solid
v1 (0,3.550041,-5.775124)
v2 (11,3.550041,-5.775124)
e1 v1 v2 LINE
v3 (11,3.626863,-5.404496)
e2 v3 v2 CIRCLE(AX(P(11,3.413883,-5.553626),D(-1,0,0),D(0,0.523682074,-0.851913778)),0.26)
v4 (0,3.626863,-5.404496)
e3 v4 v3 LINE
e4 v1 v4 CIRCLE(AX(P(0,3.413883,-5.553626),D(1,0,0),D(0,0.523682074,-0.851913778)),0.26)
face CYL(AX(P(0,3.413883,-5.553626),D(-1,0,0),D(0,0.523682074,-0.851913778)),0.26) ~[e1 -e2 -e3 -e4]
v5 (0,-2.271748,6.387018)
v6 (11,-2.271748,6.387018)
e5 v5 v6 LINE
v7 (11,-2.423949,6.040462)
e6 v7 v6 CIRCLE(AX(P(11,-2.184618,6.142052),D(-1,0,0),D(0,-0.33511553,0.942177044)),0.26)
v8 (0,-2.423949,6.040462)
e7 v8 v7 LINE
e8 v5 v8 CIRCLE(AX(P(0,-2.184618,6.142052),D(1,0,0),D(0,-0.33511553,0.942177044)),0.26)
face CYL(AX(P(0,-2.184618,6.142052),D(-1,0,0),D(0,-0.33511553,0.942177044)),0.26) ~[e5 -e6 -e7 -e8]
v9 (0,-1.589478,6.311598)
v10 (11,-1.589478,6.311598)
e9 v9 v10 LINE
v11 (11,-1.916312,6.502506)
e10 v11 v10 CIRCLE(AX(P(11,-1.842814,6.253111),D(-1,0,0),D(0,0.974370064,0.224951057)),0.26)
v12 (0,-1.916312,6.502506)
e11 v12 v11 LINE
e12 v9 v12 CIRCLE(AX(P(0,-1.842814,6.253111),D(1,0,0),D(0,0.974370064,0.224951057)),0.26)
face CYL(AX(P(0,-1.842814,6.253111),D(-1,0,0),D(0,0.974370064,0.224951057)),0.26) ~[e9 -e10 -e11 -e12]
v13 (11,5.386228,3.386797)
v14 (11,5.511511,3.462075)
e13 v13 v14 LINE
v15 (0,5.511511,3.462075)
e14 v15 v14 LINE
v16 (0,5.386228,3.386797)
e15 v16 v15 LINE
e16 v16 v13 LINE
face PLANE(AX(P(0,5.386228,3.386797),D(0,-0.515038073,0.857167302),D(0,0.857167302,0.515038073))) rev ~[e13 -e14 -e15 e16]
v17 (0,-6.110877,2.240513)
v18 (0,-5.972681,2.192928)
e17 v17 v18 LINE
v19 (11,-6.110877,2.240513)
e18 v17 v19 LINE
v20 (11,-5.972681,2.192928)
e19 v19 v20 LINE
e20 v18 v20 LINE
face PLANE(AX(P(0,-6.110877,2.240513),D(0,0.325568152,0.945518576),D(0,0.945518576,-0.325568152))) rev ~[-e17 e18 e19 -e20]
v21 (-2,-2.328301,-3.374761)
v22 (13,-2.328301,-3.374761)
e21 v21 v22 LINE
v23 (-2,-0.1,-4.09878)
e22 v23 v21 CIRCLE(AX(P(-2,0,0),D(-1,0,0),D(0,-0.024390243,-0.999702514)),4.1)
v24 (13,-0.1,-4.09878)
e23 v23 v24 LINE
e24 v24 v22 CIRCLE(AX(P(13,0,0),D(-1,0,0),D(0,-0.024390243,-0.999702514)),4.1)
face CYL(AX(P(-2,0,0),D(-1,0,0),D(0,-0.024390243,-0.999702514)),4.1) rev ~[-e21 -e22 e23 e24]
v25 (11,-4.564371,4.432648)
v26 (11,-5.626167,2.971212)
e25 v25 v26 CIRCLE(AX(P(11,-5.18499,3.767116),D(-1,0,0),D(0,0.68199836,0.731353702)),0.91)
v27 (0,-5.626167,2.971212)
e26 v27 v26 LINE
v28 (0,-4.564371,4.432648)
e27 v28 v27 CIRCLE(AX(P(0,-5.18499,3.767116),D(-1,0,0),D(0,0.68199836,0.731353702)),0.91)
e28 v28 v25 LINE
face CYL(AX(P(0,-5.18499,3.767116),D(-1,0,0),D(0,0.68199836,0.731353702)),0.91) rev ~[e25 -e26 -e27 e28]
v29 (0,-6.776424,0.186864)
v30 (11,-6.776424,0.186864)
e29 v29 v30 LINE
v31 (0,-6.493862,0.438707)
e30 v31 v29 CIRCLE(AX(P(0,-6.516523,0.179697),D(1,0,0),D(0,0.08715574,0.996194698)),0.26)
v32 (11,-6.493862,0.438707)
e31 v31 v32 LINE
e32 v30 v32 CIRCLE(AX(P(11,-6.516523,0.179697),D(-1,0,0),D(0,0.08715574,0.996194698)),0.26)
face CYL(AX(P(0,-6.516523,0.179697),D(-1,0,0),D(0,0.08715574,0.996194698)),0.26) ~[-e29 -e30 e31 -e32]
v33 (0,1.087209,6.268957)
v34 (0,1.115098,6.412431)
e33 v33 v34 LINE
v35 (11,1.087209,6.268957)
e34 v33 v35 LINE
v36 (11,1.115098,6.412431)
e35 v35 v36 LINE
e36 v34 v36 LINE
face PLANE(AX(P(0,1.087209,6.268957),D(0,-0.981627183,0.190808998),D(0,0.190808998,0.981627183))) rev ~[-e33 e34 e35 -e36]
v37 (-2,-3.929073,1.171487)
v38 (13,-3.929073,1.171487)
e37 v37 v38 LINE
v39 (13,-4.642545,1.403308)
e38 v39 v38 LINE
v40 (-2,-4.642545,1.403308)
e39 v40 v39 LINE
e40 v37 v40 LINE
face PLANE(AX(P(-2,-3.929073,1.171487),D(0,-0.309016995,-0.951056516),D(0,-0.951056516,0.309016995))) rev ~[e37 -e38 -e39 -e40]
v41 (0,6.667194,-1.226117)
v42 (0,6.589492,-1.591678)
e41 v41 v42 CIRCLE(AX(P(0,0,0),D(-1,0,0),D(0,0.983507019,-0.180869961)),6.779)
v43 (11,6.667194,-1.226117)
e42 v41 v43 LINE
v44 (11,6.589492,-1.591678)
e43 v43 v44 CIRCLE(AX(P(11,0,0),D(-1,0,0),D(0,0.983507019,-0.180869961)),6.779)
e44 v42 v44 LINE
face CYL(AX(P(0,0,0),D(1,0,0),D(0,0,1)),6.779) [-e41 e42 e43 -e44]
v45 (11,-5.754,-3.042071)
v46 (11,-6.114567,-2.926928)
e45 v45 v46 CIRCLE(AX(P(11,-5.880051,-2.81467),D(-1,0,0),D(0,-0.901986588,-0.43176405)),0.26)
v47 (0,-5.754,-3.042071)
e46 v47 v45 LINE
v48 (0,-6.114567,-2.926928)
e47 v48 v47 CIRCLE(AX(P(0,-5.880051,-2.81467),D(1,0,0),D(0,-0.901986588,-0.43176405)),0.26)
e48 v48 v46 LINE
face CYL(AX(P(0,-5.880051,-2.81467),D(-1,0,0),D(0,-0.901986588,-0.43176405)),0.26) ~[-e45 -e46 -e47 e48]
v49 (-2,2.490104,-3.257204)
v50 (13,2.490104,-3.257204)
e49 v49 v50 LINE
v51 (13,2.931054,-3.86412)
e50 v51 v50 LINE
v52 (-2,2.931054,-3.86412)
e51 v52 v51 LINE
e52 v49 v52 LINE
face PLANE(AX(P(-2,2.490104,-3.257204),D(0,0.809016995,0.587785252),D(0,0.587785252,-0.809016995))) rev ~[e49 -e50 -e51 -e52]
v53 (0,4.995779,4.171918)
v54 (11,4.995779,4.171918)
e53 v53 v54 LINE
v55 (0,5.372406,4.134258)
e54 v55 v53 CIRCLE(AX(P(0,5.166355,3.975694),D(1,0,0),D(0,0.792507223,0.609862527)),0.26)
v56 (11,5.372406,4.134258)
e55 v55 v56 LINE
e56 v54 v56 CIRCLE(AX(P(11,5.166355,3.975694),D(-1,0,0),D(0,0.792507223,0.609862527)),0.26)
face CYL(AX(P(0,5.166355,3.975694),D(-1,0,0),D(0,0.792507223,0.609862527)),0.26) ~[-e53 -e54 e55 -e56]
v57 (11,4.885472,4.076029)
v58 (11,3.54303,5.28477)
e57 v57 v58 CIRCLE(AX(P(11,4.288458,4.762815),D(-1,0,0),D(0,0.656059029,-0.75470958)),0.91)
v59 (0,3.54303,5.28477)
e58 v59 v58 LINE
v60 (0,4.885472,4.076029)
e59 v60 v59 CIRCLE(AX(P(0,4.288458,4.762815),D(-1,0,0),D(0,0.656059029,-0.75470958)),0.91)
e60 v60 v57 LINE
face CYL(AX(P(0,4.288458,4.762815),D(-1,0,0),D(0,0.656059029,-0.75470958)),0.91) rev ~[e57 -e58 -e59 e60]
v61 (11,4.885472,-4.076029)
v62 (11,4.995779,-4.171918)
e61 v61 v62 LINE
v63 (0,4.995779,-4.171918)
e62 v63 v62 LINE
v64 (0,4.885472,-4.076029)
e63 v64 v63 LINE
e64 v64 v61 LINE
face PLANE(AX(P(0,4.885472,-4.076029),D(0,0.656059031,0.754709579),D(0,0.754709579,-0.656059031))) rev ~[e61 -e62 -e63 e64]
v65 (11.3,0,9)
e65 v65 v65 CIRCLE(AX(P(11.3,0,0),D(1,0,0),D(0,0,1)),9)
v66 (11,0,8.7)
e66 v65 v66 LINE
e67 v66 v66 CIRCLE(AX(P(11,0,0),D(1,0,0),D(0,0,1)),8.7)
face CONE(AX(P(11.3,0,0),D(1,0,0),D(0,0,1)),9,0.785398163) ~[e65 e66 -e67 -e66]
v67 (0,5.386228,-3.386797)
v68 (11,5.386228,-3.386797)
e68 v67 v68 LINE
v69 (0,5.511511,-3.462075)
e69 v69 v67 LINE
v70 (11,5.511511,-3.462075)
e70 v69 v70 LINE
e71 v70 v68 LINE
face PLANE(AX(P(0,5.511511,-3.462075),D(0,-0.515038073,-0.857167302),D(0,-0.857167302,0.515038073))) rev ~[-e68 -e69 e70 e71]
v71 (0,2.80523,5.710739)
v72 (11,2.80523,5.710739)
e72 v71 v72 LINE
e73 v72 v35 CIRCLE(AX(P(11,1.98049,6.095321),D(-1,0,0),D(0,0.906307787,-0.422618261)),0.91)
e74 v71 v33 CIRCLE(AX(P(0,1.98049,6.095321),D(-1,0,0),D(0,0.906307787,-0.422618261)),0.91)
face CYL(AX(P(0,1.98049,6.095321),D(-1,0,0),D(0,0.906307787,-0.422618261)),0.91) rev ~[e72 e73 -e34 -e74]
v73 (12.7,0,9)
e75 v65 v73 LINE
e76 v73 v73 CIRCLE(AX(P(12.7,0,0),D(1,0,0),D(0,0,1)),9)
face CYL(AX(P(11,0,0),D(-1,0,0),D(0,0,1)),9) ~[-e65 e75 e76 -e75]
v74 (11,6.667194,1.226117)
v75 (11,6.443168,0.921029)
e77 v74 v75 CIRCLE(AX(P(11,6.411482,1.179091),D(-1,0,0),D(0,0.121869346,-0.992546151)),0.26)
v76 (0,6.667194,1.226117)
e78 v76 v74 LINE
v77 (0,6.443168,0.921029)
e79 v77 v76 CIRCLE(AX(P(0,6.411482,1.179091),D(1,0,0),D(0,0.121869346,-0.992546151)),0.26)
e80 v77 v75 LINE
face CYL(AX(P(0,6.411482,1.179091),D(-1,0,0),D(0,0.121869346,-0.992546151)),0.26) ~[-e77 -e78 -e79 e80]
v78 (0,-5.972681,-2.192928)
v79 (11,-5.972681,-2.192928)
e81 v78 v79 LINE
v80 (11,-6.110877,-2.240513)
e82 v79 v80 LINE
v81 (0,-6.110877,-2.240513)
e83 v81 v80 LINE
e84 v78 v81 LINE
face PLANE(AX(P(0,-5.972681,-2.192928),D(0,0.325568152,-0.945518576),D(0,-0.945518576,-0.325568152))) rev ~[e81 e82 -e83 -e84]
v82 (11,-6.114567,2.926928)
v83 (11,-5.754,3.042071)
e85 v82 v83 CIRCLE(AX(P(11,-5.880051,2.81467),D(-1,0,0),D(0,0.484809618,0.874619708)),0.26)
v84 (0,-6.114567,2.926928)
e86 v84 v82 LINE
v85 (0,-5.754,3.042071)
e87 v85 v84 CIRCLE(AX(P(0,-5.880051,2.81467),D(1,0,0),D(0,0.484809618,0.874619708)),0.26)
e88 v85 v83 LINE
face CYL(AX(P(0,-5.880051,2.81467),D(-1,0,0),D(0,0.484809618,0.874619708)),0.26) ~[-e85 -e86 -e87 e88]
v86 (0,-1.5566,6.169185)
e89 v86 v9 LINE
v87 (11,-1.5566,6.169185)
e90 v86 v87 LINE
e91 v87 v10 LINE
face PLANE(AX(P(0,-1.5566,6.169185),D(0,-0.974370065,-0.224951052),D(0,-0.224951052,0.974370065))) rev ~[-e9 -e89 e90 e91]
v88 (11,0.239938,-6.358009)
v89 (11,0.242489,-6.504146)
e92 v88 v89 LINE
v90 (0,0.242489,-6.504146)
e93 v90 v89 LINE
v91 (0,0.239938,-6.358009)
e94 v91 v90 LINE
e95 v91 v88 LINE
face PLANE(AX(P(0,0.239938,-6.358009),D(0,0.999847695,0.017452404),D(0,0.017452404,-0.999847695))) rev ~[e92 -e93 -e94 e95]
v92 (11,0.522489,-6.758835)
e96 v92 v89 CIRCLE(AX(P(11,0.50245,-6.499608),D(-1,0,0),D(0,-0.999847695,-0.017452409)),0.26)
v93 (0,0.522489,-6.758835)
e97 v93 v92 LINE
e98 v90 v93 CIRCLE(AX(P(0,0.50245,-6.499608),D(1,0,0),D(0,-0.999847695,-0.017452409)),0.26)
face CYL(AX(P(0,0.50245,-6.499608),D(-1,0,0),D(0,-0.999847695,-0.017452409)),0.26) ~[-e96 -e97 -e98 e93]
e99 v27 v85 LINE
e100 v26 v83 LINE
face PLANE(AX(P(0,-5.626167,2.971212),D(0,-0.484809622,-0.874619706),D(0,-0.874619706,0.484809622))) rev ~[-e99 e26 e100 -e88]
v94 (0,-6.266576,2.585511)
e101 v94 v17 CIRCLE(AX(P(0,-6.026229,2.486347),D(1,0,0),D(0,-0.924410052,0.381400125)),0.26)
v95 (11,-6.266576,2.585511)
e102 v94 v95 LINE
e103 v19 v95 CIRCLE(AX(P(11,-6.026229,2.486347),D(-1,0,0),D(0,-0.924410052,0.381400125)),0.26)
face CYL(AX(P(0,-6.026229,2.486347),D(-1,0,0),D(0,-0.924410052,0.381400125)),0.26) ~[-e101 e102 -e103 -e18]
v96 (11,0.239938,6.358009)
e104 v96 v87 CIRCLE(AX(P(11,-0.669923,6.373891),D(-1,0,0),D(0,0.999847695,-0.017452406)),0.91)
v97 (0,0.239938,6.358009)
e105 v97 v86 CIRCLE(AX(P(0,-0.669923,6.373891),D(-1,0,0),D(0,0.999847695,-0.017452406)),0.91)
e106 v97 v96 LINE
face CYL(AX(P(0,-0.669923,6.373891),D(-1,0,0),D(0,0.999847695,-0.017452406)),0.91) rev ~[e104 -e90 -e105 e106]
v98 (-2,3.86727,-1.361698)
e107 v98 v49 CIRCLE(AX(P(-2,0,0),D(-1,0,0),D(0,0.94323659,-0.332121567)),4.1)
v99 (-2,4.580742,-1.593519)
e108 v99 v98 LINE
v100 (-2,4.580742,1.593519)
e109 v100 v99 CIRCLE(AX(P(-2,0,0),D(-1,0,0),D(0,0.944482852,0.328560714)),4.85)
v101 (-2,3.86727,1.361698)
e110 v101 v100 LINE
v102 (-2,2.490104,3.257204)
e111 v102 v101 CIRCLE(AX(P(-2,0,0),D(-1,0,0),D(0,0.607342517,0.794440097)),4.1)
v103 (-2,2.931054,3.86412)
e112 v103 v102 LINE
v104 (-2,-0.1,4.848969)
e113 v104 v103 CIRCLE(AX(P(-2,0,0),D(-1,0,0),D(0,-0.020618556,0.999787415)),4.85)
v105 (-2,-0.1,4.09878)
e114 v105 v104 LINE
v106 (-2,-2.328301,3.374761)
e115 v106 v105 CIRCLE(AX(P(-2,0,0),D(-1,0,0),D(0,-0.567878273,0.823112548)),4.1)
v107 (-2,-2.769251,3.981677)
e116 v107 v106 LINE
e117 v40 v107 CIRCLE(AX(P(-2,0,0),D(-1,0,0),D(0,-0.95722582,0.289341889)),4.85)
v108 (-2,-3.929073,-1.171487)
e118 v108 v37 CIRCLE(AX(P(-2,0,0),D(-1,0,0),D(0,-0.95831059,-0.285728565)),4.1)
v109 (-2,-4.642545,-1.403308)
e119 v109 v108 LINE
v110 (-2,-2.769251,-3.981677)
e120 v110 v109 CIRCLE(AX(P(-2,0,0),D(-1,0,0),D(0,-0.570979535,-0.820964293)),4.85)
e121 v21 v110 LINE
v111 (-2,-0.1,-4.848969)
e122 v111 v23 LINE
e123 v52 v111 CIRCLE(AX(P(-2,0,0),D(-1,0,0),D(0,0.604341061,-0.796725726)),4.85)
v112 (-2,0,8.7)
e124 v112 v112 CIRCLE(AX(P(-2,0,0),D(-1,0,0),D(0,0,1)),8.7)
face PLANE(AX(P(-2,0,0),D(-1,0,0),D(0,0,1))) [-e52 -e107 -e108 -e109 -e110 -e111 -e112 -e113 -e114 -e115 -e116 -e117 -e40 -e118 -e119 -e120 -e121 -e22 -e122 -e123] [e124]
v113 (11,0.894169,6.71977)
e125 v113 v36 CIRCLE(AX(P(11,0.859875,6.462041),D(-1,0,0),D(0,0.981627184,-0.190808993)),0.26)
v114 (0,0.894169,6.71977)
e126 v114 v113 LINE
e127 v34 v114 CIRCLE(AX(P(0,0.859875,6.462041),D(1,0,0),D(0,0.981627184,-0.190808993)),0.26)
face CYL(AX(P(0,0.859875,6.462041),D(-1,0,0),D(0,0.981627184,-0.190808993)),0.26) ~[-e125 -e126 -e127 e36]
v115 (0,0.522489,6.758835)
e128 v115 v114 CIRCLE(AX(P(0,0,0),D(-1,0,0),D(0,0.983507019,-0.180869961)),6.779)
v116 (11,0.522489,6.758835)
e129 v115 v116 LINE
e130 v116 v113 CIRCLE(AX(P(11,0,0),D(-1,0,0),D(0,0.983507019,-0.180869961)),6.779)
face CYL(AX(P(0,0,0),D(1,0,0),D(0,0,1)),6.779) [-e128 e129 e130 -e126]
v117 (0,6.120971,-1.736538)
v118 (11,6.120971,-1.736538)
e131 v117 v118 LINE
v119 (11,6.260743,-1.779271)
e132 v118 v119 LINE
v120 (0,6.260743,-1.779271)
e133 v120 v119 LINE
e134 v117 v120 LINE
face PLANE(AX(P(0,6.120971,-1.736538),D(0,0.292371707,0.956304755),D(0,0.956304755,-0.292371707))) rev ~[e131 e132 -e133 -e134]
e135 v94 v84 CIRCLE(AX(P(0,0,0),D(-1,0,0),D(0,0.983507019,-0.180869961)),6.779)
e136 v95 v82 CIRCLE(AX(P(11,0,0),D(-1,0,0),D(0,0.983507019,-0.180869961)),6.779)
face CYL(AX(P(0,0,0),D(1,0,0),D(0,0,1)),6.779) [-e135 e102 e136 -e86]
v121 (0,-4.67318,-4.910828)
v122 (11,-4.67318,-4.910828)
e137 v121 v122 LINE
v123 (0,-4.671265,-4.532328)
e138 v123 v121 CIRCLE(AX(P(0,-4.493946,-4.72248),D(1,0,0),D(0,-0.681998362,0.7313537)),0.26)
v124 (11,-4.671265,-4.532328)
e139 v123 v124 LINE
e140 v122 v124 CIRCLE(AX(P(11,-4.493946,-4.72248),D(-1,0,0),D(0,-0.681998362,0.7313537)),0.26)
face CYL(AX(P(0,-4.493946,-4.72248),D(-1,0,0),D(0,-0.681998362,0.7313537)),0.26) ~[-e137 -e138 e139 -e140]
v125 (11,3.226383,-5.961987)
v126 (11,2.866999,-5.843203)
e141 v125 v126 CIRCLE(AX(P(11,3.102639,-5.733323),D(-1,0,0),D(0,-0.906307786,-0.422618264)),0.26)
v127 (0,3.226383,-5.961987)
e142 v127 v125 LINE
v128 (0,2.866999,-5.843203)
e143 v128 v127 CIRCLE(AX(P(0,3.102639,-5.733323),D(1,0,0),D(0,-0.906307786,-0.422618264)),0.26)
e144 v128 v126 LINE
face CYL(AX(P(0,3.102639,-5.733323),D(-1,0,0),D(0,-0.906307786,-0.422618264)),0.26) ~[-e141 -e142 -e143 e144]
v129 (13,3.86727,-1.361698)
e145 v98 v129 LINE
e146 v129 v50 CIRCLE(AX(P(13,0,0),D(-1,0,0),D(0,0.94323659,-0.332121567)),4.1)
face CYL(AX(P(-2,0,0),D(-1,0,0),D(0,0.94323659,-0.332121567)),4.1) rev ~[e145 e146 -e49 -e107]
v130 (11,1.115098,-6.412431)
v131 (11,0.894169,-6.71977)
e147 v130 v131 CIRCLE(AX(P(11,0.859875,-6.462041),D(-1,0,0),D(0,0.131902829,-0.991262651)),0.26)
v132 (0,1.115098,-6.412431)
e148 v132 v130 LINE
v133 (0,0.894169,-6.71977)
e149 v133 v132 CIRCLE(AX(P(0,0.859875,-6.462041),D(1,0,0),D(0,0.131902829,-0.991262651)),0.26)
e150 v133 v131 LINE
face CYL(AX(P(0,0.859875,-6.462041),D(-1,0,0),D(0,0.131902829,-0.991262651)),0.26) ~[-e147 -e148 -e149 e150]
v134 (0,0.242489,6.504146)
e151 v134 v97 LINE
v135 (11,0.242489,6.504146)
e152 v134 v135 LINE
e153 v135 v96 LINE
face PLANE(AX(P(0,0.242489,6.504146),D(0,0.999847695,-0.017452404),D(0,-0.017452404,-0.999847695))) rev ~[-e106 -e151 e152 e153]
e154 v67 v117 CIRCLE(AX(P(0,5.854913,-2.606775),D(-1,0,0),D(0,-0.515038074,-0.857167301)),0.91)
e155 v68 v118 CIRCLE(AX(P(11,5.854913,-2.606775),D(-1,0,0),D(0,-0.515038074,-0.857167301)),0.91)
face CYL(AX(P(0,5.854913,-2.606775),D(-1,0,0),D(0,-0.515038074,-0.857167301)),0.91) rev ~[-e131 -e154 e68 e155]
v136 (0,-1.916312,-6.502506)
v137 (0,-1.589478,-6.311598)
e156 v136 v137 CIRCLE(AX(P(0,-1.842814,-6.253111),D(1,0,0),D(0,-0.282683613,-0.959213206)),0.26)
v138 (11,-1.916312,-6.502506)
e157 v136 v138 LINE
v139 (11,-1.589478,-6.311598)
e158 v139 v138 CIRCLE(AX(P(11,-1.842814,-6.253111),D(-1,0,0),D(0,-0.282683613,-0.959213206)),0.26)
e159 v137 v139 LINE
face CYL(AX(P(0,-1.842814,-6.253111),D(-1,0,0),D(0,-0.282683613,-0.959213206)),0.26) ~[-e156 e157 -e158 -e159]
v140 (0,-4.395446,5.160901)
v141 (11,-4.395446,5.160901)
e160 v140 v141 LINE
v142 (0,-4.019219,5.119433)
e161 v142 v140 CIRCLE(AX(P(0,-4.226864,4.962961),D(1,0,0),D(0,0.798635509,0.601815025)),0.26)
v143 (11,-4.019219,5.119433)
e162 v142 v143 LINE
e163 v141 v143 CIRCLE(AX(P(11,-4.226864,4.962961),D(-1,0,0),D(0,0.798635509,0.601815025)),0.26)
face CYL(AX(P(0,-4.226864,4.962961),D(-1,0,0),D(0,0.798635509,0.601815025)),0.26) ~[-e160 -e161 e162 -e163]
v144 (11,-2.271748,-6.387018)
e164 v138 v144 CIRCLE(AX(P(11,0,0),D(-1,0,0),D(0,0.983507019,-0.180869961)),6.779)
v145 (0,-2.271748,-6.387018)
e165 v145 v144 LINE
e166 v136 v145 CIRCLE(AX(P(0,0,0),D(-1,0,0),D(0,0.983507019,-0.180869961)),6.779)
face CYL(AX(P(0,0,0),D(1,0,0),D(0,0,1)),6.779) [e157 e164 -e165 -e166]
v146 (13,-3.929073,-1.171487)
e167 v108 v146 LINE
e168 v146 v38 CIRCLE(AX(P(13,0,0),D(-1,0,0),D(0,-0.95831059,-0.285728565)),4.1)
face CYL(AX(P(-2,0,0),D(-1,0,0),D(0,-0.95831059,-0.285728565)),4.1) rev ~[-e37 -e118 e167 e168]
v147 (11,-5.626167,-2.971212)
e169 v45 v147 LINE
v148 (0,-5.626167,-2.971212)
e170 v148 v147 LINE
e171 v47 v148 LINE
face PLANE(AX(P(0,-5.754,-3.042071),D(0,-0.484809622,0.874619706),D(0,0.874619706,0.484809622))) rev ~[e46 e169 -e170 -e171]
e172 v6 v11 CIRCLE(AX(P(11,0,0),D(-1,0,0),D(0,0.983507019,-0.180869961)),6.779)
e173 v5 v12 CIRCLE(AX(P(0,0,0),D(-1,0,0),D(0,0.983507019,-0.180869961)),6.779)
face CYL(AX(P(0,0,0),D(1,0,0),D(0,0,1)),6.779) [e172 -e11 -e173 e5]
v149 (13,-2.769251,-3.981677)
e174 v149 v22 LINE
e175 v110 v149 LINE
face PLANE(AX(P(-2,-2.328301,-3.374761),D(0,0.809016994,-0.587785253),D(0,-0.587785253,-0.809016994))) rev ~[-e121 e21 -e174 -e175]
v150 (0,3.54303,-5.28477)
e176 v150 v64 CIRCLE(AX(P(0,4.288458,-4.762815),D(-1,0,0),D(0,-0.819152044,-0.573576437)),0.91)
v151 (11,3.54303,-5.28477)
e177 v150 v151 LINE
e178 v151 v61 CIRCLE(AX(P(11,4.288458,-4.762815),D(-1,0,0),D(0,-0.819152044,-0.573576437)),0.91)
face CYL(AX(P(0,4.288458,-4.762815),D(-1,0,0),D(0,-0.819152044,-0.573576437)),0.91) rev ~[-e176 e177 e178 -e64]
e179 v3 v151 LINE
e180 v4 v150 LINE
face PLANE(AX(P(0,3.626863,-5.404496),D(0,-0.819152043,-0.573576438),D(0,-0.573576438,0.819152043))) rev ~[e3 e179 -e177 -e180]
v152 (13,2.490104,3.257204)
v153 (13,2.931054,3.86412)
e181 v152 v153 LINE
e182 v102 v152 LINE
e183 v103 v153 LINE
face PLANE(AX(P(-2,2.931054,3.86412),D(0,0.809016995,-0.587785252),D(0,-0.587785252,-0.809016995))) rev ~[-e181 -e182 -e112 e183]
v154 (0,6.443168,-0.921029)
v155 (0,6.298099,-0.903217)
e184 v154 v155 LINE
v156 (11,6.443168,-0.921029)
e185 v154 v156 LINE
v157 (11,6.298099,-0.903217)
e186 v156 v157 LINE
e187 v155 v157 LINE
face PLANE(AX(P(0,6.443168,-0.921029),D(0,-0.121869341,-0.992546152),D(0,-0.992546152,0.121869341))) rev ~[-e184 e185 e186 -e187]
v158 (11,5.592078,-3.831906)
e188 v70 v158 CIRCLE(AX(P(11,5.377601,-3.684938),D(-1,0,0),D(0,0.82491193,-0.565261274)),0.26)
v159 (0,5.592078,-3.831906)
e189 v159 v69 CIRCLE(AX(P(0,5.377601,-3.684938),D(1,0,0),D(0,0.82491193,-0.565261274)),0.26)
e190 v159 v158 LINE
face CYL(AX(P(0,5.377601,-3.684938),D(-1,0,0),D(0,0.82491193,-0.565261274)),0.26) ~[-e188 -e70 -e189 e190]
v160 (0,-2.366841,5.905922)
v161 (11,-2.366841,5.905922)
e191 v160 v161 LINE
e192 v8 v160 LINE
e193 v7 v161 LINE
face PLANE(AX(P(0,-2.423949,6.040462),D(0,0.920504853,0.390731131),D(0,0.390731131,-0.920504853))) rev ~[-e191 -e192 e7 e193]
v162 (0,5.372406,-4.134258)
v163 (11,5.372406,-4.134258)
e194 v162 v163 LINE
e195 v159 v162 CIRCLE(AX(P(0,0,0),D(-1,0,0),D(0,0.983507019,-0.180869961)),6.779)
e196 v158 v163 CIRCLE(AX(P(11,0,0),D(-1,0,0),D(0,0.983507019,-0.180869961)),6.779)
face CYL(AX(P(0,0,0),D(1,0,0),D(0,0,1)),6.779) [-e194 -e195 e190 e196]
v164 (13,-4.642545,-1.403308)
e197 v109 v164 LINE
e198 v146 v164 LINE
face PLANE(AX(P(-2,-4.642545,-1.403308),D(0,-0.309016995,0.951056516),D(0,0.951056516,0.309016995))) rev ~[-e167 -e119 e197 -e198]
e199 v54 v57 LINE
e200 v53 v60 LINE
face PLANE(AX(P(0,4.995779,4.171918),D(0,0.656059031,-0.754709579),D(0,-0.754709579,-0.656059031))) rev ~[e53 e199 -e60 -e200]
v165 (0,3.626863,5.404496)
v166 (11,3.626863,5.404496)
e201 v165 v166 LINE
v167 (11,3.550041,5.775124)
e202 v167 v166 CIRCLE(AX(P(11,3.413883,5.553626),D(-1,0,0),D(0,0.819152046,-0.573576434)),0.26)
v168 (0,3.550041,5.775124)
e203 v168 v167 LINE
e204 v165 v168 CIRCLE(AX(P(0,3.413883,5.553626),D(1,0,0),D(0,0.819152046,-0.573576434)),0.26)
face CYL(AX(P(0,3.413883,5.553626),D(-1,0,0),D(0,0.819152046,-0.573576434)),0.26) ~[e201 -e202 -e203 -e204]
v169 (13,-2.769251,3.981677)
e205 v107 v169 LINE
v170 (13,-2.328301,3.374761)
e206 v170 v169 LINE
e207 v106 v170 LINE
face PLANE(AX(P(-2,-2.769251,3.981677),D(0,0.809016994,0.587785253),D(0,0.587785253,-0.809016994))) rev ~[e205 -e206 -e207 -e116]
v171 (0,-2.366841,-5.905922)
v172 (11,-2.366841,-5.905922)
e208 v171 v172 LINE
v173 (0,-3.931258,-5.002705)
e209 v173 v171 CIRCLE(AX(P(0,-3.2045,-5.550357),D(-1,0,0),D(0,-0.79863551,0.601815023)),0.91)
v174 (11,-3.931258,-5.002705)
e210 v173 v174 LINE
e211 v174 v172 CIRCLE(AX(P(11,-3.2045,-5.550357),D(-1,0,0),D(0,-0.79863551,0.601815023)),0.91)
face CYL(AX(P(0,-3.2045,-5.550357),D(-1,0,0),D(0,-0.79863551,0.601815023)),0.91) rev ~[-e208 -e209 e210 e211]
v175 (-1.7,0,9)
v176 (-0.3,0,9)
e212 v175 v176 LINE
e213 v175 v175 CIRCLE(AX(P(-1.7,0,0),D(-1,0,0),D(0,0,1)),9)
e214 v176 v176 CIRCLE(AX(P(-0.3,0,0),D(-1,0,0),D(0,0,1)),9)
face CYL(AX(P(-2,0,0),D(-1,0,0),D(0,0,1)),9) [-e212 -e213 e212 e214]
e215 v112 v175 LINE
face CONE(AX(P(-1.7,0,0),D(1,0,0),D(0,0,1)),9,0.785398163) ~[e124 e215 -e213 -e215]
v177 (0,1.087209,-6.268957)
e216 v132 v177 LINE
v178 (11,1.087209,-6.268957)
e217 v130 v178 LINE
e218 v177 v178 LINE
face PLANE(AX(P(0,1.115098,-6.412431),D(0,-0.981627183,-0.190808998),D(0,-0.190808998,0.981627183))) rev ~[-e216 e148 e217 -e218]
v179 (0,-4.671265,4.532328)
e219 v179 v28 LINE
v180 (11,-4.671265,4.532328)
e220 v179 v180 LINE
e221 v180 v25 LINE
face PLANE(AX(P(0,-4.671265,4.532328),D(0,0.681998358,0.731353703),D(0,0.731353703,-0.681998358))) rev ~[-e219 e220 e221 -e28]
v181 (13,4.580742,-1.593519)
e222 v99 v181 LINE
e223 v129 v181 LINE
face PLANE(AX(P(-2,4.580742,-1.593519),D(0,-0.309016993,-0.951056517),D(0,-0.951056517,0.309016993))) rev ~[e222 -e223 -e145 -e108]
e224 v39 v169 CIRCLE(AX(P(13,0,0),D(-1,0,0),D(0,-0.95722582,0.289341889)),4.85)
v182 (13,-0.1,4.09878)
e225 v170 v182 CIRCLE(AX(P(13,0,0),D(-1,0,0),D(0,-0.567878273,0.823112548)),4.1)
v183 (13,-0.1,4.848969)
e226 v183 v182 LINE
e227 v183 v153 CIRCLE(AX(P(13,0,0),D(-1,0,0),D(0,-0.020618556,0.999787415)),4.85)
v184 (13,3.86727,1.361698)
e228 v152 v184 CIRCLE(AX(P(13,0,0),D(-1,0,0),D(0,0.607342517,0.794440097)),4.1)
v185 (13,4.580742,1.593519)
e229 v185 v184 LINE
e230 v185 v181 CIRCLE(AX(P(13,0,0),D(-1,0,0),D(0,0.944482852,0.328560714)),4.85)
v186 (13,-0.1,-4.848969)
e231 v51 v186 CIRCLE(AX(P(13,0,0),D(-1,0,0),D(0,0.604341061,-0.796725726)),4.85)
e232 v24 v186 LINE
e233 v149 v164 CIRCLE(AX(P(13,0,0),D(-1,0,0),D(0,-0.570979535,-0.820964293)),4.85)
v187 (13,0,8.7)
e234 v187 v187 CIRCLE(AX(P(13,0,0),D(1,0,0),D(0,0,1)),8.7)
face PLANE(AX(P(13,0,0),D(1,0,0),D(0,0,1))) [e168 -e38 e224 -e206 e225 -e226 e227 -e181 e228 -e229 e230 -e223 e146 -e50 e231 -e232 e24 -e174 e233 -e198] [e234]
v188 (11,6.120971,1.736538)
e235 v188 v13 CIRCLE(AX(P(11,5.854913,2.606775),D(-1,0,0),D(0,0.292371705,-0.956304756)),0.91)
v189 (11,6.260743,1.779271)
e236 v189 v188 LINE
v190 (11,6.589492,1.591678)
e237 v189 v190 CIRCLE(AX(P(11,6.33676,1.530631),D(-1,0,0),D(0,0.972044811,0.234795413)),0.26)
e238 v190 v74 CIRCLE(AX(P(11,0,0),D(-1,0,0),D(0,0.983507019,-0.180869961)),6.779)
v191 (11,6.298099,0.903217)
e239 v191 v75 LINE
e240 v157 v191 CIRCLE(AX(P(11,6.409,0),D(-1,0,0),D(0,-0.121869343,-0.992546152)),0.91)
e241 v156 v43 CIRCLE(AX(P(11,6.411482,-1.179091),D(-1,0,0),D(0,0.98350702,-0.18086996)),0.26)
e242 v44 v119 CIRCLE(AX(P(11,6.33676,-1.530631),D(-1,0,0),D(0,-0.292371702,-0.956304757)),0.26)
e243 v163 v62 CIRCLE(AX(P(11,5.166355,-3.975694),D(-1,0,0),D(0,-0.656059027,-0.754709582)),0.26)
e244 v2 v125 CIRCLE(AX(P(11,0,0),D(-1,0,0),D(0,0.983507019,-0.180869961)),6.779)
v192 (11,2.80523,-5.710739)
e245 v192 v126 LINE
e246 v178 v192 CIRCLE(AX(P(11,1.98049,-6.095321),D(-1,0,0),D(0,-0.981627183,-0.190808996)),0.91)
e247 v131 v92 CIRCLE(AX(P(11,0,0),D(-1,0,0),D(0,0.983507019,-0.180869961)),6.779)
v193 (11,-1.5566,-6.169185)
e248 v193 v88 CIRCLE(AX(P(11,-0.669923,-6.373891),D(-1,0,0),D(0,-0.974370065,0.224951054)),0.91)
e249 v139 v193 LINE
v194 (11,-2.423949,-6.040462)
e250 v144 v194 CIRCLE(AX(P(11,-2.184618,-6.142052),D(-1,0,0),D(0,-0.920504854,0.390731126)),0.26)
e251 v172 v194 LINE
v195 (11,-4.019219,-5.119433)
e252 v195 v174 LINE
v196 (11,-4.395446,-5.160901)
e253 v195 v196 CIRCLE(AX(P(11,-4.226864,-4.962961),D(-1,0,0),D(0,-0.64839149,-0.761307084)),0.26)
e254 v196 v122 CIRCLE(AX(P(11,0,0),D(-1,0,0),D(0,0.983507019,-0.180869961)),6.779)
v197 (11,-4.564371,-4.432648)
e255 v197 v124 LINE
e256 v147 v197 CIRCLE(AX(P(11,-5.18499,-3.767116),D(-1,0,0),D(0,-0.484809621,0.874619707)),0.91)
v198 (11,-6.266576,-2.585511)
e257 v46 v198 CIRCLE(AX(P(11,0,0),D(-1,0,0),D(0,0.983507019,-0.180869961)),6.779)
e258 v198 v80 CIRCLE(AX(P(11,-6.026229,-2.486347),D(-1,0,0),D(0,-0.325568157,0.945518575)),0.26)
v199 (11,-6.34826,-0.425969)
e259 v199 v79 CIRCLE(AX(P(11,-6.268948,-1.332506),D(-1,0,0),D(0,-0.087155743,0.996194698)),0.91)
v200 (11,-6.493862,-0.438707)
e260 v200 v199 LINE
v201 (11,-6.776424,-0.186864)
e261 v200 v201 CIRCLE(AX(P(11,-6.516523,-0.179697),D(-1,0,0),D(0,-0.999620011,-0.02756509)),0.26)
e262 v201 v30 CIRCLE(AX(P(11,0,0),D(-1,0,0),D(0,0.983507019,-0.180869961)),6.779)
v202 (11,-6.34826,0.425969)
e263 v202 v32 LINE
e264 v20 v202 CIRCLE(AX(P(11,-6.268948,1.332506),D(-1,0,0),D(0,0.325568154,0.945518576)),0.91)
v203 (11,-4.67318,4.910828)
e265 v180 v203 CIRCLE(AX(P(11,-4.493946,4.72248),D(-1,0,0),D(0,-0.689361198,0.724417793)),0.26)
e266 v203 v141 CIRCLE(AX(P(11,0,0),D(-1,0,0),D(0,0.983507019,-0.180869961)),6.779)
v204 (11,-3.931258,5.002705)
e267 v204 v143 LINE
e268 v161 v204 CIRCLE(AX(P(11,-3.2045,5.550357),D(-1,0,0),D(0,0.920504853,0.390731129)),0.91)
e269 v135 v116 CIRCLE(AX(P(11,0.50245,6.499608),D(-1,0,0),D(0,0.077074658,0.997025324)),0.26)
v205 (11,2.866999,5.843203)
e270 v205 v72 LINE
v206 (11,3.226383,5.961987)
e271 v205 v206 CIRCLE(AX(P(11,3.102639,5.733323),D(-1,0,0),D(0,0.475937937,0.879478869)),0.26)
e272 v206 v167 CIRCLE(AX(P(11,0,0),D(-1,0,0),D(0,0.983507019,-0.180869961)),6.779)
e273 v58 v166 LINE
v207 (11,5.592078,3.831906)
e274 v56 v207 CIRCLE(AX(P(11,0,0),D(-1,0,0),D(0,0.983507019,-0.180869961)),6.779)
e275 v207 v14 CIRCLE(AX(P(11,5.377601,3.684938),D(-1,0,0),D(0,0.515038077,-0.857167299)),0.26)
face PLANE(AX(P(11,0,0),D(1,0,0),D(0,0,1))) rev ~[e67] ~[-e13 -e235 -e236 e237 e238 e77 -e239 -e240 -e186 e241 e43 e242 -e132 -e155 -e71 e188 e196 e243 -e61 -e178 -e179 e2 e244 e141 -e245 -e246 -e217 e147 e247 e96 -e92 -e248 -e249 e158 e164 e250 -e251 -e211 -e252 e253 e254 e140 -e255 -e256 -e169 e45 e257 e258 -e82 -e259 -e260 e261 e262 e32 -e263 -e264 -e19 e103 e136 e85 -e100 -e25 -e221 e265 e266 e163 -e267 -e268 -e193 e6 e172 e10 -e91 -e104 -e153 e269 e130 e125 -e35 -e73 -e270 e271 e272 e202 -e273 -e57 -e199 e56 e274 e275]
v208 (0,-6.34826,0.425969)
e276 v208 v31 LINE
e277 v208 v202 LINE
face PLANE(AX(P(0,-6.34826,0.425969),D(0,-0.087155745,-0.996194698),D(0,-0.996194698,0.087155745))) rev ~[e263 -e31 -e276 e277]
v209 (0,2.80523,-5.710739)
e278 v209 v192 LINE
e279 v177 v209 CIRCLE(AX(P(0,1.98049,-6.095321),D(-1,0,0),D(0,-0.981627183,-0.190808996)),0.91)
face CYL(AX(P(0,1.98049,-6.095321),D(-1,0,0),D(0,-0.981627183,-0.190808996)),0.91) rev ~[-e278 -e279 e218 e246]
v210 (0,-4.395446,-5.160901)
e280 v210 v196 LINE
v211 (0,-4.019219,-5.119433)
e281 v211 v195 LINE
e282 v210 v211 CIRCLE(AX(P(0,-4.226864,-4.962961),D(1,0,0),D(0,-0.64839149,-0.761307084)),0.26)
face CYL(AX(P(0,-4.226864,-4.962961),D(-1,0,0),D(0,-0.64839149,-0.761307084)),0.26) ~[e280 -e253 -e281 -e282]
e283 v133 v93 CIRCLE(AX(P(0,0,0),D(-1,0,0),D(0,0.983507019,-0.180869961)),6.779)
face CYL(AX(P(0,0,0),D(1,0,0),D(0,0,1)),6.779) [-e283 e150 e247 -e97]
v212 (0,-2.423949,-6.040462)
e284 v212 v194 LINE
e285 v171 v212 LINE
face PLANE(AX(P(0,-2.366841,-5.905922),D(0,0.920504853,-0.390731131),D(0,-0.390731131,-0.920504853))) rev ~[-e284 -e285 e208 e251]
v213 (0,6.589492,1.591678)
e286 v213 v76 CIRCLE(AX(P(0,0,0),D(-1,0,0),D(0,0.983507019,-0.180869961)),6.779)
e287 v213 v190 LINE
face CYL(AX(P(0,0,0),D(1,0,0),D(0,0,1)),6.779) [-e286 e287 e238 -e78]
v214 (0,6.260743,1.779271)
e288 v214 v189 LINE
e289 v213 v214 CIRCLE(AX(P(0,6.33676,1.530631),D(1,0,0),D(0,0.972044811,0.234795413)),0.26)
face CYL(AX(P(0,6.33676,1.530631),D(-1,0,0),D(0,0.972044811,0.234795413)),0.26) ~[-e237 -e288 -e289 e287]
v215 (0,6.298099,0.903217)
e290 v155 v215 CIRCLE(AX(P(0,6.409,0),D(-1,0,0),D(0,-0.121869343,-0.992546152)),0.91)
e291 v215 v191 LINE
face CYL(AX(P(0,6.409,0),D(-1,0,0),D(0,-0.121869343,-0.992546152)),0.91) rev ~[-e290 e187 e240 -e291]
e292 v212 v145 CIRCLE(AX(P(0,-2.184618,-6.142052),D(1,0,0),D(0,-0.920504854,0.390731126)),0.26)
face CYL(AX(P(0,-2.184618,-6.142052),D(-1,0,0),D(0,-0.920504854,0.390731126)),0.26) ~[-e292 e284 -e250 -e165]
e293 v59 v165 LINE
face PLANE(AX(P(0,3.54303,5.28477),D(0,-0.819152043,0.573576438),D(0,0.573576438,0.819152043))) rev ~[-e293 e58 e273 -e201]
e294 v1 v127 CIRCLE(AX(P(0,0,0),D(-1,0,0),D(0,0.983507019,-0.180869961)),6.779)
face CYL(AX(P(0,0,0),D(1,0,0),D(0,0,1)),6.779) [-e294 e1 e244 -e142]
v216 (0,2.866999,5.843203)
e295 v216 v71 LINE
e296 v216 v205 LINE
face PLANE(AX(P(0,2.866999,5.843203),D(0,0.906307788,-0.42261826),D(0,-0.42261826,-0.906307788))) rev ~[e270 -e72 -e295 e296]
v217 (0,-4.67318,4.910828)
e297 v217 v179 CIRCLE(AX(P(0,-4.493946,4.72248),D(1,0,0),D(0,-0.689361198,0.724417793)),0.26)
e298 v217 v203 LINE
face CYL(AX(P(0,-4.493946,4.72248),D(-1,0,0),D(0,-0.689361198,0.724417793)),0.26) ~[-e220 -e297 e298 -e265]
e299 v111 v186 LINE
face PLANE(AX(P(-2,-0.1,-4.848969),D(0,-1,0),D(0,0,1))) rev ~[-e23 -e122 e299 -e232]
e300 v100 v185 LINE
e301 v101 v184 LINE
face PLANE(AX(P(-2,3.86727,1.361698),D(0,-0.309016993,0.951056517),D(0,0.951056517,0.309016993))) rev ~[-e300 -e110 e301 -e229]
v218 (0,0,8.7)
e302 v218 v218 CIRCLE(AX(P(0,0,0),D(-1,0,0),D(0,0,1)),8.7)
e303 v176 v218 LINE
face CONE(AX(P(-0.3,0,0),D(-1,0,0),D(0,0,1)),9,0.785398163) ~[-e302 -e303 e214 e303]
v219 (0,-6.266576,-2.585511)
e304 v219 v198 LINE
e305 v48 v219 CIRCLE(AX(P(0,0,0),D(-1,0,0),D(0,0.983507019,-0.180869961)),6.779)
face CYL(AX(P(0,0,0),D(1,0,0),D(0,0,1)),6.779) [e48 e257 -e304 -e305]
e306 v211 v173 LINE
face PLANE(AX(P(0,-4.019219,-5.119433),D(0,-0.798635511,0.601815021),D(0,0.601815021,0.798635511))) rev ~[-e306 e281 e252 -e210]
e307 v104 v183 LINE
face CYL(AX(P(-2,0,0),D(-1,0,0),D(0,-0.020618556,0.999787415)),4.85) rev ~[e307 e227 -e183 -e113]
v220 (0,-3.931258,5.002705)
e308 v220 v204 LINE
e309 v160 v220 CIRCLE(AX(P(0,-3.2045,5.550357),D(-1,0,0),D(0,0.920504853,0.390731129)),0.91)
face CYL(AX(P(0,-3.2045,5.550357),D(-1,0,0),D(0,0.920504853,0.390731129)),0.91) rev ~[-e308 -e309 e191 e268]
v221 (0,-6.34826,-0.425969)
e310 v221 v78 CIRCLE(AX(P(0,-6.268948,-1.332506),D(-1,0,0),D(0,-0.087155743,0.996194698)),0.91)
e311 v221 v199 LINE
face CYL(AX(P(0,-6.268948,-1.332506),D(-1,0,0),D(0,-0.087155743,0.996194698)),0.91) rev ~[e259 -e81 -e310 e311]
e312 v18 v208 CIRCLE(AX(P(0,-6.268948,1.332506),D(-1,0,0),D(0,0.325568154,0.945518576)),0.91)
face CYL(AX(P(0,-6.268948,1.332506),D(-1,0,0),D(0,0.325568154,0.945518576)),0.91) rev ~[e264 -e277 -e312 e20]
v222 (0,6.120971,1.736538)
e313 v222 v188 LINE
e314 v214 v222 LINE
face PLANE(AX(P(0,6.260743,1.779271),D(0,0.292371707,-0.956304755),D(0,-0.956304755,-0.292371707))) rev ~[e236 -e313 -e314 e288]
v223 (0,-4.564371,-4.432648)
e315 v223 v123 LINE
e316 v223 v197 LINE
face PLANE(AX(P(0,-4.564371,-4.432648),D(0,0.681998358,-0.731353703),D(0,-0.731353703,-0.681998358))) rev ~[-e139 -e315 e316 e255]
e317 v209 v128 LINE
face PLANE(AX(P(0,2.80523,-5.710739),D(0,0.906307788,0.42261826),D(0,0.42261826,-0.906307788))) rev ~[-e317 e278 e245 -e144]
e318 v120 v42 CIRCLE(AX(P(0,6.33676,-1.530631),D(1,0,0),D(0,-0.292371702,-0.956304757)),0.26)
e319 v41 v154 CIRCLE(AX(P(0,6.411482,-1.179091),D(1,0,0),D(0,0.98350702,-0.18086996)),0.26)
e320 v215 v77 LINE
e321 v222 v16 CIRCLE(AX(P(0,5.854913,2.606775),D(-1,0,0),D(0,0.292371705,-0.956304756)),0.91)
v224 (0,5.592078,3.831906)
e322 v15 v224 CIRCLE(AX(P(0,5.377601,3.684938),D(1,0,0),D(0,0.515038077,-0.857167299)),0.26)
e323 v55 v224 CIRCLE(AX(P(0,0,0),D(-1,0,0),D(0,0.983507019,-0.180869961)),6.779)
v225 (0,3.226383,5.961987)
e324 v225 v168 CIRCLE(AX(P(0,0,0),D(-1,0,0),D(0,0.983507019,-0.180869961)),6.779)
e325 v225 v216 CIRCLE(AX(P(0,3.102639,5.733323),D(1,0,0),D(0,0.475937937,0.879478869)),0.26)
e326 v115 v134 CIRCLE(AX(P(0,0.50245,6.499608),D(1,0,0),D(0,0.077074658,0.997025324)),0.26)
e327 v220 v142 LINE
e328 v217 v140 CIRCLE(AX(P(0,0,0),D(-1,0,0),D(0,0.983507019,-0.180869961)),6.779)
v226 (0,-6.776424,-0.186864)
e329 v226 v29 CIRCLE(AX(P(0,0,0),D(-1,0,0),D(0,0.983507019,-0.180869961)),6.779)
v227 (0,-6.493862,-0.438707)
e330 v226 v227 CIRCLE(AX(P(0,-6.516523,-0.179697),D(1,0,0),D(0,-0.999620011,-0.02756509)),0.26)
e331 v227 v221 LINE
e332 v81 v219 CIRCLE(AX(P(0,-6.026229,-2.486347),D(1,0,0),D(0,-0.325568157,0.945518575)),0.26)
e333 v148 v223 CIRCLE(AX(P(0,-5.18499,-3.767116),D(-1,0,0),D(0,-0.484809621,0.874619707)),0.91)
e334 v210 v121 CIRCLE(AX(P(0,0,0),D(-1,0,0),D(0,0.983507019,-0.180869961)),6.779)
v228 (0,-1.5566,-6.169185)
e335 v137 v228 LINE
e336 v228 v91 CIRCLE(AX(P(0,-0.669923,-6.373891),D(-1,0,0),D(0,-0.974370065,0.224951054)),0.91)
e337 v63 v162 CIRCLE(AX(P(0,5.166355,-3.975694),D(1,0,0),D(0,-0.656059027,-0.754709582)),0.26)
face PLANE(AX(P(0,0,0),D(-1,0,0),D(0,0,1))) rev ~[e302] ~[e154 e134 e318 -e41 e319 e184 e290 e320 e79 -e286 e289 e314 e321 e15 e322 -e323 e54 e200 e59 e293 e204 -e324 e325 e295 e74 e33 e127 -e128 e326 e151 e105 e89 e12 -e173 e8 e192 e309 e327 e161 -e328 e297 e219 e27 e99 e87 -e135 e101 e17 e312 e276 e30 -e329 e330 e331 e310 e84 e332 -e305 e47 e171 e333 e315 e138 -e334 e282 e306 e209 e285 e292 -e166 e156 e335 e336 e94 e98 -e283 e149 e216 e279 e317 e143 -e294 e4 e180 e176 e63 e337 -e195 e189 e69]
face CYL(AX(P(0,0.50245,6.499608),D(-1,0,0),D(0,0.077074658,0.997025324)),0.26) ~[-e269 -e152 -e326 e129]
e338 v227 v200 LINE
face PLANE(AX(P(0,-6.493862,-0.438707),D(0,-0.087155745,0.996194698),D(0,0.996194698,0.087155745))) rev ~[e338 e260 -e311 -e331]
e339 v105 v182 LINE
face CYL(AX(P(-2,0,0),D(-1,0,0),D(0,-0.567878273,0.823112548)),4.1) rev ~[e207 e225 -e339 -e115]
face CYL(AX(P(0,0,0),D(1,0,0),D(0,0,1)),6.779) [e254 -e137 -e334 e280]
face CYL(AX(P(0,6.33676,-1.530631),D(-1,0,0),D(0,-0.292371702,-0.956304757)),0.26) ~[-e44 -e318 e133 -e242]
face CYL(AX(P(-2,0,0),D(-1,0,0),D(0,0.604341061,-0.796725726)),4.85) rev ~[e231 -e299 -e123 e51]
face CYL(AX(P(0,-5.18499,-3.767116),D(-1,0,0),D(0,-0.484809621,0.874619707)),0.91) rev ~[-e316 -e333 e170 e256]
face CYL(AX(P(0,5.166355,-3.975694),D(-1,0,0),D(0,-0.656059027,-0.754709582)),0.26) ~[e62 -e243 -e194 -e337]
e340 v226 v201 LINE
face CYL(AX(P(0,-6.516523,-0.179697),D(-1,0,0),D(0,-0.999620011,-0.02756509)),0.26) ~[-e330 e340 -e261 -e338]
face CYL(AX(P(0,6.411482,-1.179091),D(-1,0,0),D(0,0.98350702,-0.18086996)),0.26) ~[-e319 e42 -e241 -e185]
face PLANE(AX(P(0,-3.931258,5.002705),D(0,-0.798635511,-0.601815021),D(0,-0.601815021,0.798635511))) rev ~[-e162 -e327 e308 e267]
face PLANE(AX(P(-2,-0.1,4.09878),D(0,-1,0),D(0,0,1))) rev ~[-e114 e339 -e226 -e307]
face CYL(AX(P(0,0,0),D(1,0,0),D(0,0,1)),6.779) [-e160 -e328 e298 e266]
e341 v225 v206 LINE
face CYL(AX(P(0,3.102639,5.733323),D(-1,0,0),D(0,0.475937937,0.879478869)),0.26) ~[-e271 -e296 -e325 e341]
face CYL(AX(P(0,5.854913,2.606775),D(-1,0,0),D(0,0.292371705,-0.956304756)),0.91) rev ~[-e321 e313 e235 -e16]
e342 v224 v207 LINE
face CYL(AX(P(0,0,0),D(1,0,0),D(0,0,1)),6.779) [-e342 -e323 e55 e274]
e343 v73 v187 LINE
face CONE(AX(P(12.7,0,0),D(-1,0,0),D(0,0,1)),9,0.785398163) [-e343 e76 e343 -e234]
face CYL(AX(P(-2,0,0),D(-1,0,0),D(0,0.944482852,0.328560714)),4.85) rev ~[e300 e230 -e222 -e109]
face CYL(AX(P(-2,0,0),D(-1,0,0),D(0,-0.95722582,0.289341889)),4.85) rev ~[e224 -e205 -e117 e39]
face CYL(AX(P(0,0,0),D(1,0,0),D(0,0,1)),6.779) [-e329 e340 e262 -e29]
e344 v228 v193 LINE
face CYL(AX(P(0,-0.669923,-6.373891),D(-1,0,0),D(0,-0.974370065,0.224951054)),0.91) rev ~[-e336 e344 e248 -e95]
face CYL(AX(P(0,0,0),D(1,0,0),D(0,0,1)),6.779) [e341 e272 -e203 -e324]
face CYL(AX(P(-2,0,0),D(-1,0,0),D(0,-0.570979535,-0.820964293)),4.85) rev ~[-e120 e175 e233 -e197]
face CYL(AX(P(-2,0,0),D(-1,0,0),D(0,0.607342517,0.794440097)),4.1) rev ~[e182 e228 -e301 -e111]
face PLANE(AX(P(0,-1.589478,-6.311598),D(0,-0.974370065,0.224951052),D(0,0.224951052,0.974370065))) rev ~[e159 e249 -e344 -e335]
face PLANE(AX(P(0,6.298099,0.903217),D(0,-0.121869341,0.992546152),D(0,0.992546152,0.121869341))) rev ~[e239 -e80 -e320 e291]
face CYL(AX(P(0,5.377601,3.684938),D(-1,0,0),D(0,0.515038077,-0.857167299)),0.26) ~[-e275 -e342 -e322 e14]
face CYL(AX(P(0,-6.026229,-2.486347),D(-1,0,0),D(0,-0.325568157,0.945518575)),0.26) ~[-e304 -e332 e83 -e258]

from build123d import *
from build123d.topology import SkipClean

# Parameters (mm, degrees)
CHAMFER_1_SIZE           = 1
SKETCH_4_W               = 2
SKETCH_4_H               = 1.440270842
CUT_EXTRUDE_1_DEPTH      = 23.179036994
CUT_EXTRUDE_2_REACH      = 24.179
PATTERN_CIRCULAR_3_COUNT = 15
SKETCH_7_R               = 3
CUT_EXTRUDE_3_DEPTH      = 23.173117564
EXTRUDE_START            = 2
SKETCH_9_R               = 9
SKETCH_9_R_2             = 3
EXTRUDE_1_DEPTH          = 2
SKETCH_10_R              = 9
SKETCH_10_R_2            = 3
EXTRUDE_2_DEPTH          = 2
CHAMFER_2_SIZE           = 0.3
SKETCH_11_R              = 4
CUT_EXTRUDE_4_DEPTH      = 20.672315573
CUT_EXTRUDE_5_DEPTH      = 20.672315573
PATTERN_CIRCULAR_4_COUNT = 5
CUT_EXTRUDE_6_DEPTH      = 20.672315573


with BuildPart() as part:
    # 草图1 → 旋转1 (revolve)
    with BuildSketch(Plane.XY):
        Polygon((0, 1.3558), (0, 6.779), (11, 6.779), (11, 2.7116), (20, 2.7116), (20, 1.3558), align=None)
    revolve(axis=Axis((0, 0, 0), (1, 0, 0)))

    # 倒角1
    chamfer_1_edges = [part.edges().sort_by_distance(p)[0] for p in [
        (20, -1.3558, 0),
        (0, -1.3558, 0),
    ]]
    chamfer(chamfer_1_edges, length=CHAMFER_1_SIZE)

    # 草图4 → 切除-拉伸1 (cut, through all)
    with BuildSketch(Plane.ZY):
        with Locations((0, 1.635664579)):
            Rectangle(SKETCH_4_W, SKETCH_4_H)
    extrude(amount=-CUT_EXTRUDE_1_DEPTH, mode=Mode.SUBTRACT)

    # 草图6 → 切除-拉伸2 (cut, up to next)
    with BuildSketch(Plane(origin=(0, 0, 0), x_dir=(0, 0, -1), z_dir=(1, 0, 0)), mode=Mode.PRIVATE) as cut_extrude_2_sk1:
        with BuildLine():
            Line((0.921029279, 6.443168288), (0.903216998, 6.298098898))
            ThreePointArc((0.903216998, 6.298098898), (0, 5.499), (-0.903216998, 6.298098898))
            Line((-0.903216998, 6.298098898), (-0.921029279, 6.443168288))
            ThreePointArc((-0.921029279, 6.443168288), (-1.025205225, 6.62105106), (-1.226117469, 6.667194084))
            ThreePointArc((-1.226117469, 6.667194084), (-1.353747907, 6.642454938), (-1.480880455, 6.615272789))
            Line((-1.480880455, 6.615272789), (-1.677528444, 8.216842132))
            ThreePointArc((-1.677528444, 8.216842132), (0, 8.386333901), (1.677528444, 8.216842132))
            Line((1.677528444, 8.216842132), (1.480880455, 6.615272789))
            ThreePointArc((1.480880455, 6.615272789), (1.353747907, 6.642454938), (1.226117469, 6.667194084))
            ThreePointArc((1.226117469, 6.667194084), (1.025205225, 6.62105106), (0.921029279, 6.443168288))
        make_face()
    cut_extrude_2_tool1 = extrude(cut_extrude_2_sk1.sketch, amount=CUT_EXTRUDE_2_REACH, mode=Mode.PRIVATE) & part.part
    cut_extrude_2 = cut_extrude_2_tool1.solids().sort_by_distance((0, 7.172733, 0))[0]
    add(cut_extrude_2, mode=Mode.SUBTRACT)

    # 阵列(圆周)3: 切除-拉伸2 ×15 about axis
    pattern_circular_3_axis = Axis((-2.75, 0, 0), (1, 0, 0))
    for i in range(1, PATTERN_CIRCULAR_3_COUNT):
        add(cut_extrude_2.rotate(pattern_circular_3_axis, i * 360 / PATTERN_CIRCULAR_3_COUNT), mode=Mode.SUBTRACT)

    # 草图7 → 切除-拉伸3 (cut, through all)
    with BuildSketch(Plane.ZY):
        Circle(SKETCH_7_R)
    extrude(amount=-CUT_EXTRUDE_3_DEPTH, mode=Mode.SUBTRACT)

    # 草图9 → 凸台-拉伸1 (add)
    with BuildSketch(Plane.ZY.offset(EXTRUDE_START)):
        Circle(SKETCH_9_R)
        Circle(SKETCH_9_R_2, mode=Mode.SUBTRACT)
    extrude(amount=-EXTRUDE_1_DEPTH)

    # 草图10 → 凸台-拉伸2 (add)
    with SkipClean():  # the faces are left unmerged after this step: merging them gives an invalid solid
        with BuildSketch(Plane(origin=(11, 0, 0), x_dir=(0, 0, -1), z_dir=(1, 0, 0))):
            Circle(SKETCH_10_R)
            Circle(SKETCH_10_R_2, mode=Mode.SUBTRACT)
        extrude(amount=EXTRUDE_2_DEPTH)

    # 倒角2
    chamfer_2_edges = [part.edges().sort_by_distance(p)[0] for p in [
        (13, 0, 9),
        (11, 0, 9),
        (0, 0, -9),
        (-2, 0, -9),
    ]]
    chamfer(chamfer_2_edges, length=CHAMFER_2_SIZE)

    # 草图11 → 切除-拉伸4 (cut, through all)
    with BuildSketch(Plane.ZY.offset(2)):
        Circle(SKETCH_11_R)
    extrude(amount=-CUT_EXTRUDE_4_DEPTH, mode=Mode.SUBTRACT)

    # 草图12 → 切除-拉伸5 (cut, through all)
    with BuildSketch(Plane.ZY.offset(2)):
        with BuildLine():
            Line((-1.467830723, 4.517518452), (-1.236067977, 3.804226065))
            ThreePointArc((-1.236067977, 3.804226065), (0, 4), (1.236067977, 3.804226065))
            Line((1.236067977, 3.804226065), (1.467830723, 4.517518452))
            ThreePointArc((1.467830723, 4.517518452), (0, 4.75), (-1.467830723, 4.517518452))
        make_face()
    cut_extrude_5 = extrude(amount=-CUT_EXTRUDE_5_DEPTH, mode=Mode.SUBTRACT)

    # 阵列(圆周)4: 切除-拉伸5 ×5 about axis
    pattern_circular_4_axis = Axis((-2, 0, 0), (-1, 0, 0))
    for i in range(1, PATTERN_CIRCULAR_4_COUNT):
        add(cut_extrude_5.rotate(pattern_circular_4_axis, i * 360 / PATTERN_CIRCULAR_4_COUNT), mode=Mode.SUBTRACT)

    # 草图13 → 切除-拉伸6 (cut, through all)
    with BuildSketch(Plane.ZY.offset(2)):
        with BuildLine():
            Line((-1.593519466, 4.58074183), (-1.361698423, 3.86727002))
            ThreePointArc((-1.361698423, 3.86727002), (-2.409919534, 3.316969677), (-3.257204399, 2.490104316))
            Line((-3.257204399, 2.490104316), (-3.864119771, 2.931054144))
            ThreePointArc((-3.864119771, 2.931054144), (-4.612624104, 1.498732423), (-4.848968963, -0.1))
            Line((-4.848968963, -0.1), (-4.098780306, -0.1))
            ThreePointArc((-4.098780306, -0.1), (-3.899331717, -1.266969677), (-3.374761449, -2.328300917))
            Line((-3.374761449, -2.328300917), (-3.981676821, -2.769250746))
            ThreePointArc((-3.981676821, -2.769250746), (-2.850758474, -3.923732423), (-1.403308163, -4.642545229))
            Line((-1.403308163, -4.642545229), (-1.171487119, -3.929073419))
            ThreePointArc((-1.171487119, -3.929073419), (0, -4.1), (1.171487119, -3.929073419))
            Line((1.171487119, -3.929073419), (1.403308163, -4.642545229))
            ThreePointArc((1.403308163, -4.642545229), (2.850758474, -3.923732423), (3.981676821, -2.769250746))
            Line((3.981676821, -2.769250746), (3.374761449, -2.328300917))
            ThreePointArc((3.374761449, -2.328300917), (3.899331717, -1.266969677), (4.098780306, -0.1))
            Line((4.098780306, -0.1), (4.848968963, -0.1))
            ThreePointArc((4.848968963, -0.1), (4.612624104, 1.498732423), (3.864119771, 2.931054144))
            Line((3.864119771, 2.931054144), (3.257204399, 2.490104316))
            ThreePointArc((3.257204399, 2.490104316), (2.409919534, 3.316969677), (1.361698423, 3.86727002))
            Line((1.361698423, 3.86727002), (1.593519466, 4.58074183))
            ThreePointArc((1.593519466, 4.58074183), (0, 4.85), (-1.593519466, 4.58074183))
        make_face()
    extrude(amount=-CUT_EXTRUDE_6_DEPTH, mode=Mode.SUBTRACT)


solid = part.part
